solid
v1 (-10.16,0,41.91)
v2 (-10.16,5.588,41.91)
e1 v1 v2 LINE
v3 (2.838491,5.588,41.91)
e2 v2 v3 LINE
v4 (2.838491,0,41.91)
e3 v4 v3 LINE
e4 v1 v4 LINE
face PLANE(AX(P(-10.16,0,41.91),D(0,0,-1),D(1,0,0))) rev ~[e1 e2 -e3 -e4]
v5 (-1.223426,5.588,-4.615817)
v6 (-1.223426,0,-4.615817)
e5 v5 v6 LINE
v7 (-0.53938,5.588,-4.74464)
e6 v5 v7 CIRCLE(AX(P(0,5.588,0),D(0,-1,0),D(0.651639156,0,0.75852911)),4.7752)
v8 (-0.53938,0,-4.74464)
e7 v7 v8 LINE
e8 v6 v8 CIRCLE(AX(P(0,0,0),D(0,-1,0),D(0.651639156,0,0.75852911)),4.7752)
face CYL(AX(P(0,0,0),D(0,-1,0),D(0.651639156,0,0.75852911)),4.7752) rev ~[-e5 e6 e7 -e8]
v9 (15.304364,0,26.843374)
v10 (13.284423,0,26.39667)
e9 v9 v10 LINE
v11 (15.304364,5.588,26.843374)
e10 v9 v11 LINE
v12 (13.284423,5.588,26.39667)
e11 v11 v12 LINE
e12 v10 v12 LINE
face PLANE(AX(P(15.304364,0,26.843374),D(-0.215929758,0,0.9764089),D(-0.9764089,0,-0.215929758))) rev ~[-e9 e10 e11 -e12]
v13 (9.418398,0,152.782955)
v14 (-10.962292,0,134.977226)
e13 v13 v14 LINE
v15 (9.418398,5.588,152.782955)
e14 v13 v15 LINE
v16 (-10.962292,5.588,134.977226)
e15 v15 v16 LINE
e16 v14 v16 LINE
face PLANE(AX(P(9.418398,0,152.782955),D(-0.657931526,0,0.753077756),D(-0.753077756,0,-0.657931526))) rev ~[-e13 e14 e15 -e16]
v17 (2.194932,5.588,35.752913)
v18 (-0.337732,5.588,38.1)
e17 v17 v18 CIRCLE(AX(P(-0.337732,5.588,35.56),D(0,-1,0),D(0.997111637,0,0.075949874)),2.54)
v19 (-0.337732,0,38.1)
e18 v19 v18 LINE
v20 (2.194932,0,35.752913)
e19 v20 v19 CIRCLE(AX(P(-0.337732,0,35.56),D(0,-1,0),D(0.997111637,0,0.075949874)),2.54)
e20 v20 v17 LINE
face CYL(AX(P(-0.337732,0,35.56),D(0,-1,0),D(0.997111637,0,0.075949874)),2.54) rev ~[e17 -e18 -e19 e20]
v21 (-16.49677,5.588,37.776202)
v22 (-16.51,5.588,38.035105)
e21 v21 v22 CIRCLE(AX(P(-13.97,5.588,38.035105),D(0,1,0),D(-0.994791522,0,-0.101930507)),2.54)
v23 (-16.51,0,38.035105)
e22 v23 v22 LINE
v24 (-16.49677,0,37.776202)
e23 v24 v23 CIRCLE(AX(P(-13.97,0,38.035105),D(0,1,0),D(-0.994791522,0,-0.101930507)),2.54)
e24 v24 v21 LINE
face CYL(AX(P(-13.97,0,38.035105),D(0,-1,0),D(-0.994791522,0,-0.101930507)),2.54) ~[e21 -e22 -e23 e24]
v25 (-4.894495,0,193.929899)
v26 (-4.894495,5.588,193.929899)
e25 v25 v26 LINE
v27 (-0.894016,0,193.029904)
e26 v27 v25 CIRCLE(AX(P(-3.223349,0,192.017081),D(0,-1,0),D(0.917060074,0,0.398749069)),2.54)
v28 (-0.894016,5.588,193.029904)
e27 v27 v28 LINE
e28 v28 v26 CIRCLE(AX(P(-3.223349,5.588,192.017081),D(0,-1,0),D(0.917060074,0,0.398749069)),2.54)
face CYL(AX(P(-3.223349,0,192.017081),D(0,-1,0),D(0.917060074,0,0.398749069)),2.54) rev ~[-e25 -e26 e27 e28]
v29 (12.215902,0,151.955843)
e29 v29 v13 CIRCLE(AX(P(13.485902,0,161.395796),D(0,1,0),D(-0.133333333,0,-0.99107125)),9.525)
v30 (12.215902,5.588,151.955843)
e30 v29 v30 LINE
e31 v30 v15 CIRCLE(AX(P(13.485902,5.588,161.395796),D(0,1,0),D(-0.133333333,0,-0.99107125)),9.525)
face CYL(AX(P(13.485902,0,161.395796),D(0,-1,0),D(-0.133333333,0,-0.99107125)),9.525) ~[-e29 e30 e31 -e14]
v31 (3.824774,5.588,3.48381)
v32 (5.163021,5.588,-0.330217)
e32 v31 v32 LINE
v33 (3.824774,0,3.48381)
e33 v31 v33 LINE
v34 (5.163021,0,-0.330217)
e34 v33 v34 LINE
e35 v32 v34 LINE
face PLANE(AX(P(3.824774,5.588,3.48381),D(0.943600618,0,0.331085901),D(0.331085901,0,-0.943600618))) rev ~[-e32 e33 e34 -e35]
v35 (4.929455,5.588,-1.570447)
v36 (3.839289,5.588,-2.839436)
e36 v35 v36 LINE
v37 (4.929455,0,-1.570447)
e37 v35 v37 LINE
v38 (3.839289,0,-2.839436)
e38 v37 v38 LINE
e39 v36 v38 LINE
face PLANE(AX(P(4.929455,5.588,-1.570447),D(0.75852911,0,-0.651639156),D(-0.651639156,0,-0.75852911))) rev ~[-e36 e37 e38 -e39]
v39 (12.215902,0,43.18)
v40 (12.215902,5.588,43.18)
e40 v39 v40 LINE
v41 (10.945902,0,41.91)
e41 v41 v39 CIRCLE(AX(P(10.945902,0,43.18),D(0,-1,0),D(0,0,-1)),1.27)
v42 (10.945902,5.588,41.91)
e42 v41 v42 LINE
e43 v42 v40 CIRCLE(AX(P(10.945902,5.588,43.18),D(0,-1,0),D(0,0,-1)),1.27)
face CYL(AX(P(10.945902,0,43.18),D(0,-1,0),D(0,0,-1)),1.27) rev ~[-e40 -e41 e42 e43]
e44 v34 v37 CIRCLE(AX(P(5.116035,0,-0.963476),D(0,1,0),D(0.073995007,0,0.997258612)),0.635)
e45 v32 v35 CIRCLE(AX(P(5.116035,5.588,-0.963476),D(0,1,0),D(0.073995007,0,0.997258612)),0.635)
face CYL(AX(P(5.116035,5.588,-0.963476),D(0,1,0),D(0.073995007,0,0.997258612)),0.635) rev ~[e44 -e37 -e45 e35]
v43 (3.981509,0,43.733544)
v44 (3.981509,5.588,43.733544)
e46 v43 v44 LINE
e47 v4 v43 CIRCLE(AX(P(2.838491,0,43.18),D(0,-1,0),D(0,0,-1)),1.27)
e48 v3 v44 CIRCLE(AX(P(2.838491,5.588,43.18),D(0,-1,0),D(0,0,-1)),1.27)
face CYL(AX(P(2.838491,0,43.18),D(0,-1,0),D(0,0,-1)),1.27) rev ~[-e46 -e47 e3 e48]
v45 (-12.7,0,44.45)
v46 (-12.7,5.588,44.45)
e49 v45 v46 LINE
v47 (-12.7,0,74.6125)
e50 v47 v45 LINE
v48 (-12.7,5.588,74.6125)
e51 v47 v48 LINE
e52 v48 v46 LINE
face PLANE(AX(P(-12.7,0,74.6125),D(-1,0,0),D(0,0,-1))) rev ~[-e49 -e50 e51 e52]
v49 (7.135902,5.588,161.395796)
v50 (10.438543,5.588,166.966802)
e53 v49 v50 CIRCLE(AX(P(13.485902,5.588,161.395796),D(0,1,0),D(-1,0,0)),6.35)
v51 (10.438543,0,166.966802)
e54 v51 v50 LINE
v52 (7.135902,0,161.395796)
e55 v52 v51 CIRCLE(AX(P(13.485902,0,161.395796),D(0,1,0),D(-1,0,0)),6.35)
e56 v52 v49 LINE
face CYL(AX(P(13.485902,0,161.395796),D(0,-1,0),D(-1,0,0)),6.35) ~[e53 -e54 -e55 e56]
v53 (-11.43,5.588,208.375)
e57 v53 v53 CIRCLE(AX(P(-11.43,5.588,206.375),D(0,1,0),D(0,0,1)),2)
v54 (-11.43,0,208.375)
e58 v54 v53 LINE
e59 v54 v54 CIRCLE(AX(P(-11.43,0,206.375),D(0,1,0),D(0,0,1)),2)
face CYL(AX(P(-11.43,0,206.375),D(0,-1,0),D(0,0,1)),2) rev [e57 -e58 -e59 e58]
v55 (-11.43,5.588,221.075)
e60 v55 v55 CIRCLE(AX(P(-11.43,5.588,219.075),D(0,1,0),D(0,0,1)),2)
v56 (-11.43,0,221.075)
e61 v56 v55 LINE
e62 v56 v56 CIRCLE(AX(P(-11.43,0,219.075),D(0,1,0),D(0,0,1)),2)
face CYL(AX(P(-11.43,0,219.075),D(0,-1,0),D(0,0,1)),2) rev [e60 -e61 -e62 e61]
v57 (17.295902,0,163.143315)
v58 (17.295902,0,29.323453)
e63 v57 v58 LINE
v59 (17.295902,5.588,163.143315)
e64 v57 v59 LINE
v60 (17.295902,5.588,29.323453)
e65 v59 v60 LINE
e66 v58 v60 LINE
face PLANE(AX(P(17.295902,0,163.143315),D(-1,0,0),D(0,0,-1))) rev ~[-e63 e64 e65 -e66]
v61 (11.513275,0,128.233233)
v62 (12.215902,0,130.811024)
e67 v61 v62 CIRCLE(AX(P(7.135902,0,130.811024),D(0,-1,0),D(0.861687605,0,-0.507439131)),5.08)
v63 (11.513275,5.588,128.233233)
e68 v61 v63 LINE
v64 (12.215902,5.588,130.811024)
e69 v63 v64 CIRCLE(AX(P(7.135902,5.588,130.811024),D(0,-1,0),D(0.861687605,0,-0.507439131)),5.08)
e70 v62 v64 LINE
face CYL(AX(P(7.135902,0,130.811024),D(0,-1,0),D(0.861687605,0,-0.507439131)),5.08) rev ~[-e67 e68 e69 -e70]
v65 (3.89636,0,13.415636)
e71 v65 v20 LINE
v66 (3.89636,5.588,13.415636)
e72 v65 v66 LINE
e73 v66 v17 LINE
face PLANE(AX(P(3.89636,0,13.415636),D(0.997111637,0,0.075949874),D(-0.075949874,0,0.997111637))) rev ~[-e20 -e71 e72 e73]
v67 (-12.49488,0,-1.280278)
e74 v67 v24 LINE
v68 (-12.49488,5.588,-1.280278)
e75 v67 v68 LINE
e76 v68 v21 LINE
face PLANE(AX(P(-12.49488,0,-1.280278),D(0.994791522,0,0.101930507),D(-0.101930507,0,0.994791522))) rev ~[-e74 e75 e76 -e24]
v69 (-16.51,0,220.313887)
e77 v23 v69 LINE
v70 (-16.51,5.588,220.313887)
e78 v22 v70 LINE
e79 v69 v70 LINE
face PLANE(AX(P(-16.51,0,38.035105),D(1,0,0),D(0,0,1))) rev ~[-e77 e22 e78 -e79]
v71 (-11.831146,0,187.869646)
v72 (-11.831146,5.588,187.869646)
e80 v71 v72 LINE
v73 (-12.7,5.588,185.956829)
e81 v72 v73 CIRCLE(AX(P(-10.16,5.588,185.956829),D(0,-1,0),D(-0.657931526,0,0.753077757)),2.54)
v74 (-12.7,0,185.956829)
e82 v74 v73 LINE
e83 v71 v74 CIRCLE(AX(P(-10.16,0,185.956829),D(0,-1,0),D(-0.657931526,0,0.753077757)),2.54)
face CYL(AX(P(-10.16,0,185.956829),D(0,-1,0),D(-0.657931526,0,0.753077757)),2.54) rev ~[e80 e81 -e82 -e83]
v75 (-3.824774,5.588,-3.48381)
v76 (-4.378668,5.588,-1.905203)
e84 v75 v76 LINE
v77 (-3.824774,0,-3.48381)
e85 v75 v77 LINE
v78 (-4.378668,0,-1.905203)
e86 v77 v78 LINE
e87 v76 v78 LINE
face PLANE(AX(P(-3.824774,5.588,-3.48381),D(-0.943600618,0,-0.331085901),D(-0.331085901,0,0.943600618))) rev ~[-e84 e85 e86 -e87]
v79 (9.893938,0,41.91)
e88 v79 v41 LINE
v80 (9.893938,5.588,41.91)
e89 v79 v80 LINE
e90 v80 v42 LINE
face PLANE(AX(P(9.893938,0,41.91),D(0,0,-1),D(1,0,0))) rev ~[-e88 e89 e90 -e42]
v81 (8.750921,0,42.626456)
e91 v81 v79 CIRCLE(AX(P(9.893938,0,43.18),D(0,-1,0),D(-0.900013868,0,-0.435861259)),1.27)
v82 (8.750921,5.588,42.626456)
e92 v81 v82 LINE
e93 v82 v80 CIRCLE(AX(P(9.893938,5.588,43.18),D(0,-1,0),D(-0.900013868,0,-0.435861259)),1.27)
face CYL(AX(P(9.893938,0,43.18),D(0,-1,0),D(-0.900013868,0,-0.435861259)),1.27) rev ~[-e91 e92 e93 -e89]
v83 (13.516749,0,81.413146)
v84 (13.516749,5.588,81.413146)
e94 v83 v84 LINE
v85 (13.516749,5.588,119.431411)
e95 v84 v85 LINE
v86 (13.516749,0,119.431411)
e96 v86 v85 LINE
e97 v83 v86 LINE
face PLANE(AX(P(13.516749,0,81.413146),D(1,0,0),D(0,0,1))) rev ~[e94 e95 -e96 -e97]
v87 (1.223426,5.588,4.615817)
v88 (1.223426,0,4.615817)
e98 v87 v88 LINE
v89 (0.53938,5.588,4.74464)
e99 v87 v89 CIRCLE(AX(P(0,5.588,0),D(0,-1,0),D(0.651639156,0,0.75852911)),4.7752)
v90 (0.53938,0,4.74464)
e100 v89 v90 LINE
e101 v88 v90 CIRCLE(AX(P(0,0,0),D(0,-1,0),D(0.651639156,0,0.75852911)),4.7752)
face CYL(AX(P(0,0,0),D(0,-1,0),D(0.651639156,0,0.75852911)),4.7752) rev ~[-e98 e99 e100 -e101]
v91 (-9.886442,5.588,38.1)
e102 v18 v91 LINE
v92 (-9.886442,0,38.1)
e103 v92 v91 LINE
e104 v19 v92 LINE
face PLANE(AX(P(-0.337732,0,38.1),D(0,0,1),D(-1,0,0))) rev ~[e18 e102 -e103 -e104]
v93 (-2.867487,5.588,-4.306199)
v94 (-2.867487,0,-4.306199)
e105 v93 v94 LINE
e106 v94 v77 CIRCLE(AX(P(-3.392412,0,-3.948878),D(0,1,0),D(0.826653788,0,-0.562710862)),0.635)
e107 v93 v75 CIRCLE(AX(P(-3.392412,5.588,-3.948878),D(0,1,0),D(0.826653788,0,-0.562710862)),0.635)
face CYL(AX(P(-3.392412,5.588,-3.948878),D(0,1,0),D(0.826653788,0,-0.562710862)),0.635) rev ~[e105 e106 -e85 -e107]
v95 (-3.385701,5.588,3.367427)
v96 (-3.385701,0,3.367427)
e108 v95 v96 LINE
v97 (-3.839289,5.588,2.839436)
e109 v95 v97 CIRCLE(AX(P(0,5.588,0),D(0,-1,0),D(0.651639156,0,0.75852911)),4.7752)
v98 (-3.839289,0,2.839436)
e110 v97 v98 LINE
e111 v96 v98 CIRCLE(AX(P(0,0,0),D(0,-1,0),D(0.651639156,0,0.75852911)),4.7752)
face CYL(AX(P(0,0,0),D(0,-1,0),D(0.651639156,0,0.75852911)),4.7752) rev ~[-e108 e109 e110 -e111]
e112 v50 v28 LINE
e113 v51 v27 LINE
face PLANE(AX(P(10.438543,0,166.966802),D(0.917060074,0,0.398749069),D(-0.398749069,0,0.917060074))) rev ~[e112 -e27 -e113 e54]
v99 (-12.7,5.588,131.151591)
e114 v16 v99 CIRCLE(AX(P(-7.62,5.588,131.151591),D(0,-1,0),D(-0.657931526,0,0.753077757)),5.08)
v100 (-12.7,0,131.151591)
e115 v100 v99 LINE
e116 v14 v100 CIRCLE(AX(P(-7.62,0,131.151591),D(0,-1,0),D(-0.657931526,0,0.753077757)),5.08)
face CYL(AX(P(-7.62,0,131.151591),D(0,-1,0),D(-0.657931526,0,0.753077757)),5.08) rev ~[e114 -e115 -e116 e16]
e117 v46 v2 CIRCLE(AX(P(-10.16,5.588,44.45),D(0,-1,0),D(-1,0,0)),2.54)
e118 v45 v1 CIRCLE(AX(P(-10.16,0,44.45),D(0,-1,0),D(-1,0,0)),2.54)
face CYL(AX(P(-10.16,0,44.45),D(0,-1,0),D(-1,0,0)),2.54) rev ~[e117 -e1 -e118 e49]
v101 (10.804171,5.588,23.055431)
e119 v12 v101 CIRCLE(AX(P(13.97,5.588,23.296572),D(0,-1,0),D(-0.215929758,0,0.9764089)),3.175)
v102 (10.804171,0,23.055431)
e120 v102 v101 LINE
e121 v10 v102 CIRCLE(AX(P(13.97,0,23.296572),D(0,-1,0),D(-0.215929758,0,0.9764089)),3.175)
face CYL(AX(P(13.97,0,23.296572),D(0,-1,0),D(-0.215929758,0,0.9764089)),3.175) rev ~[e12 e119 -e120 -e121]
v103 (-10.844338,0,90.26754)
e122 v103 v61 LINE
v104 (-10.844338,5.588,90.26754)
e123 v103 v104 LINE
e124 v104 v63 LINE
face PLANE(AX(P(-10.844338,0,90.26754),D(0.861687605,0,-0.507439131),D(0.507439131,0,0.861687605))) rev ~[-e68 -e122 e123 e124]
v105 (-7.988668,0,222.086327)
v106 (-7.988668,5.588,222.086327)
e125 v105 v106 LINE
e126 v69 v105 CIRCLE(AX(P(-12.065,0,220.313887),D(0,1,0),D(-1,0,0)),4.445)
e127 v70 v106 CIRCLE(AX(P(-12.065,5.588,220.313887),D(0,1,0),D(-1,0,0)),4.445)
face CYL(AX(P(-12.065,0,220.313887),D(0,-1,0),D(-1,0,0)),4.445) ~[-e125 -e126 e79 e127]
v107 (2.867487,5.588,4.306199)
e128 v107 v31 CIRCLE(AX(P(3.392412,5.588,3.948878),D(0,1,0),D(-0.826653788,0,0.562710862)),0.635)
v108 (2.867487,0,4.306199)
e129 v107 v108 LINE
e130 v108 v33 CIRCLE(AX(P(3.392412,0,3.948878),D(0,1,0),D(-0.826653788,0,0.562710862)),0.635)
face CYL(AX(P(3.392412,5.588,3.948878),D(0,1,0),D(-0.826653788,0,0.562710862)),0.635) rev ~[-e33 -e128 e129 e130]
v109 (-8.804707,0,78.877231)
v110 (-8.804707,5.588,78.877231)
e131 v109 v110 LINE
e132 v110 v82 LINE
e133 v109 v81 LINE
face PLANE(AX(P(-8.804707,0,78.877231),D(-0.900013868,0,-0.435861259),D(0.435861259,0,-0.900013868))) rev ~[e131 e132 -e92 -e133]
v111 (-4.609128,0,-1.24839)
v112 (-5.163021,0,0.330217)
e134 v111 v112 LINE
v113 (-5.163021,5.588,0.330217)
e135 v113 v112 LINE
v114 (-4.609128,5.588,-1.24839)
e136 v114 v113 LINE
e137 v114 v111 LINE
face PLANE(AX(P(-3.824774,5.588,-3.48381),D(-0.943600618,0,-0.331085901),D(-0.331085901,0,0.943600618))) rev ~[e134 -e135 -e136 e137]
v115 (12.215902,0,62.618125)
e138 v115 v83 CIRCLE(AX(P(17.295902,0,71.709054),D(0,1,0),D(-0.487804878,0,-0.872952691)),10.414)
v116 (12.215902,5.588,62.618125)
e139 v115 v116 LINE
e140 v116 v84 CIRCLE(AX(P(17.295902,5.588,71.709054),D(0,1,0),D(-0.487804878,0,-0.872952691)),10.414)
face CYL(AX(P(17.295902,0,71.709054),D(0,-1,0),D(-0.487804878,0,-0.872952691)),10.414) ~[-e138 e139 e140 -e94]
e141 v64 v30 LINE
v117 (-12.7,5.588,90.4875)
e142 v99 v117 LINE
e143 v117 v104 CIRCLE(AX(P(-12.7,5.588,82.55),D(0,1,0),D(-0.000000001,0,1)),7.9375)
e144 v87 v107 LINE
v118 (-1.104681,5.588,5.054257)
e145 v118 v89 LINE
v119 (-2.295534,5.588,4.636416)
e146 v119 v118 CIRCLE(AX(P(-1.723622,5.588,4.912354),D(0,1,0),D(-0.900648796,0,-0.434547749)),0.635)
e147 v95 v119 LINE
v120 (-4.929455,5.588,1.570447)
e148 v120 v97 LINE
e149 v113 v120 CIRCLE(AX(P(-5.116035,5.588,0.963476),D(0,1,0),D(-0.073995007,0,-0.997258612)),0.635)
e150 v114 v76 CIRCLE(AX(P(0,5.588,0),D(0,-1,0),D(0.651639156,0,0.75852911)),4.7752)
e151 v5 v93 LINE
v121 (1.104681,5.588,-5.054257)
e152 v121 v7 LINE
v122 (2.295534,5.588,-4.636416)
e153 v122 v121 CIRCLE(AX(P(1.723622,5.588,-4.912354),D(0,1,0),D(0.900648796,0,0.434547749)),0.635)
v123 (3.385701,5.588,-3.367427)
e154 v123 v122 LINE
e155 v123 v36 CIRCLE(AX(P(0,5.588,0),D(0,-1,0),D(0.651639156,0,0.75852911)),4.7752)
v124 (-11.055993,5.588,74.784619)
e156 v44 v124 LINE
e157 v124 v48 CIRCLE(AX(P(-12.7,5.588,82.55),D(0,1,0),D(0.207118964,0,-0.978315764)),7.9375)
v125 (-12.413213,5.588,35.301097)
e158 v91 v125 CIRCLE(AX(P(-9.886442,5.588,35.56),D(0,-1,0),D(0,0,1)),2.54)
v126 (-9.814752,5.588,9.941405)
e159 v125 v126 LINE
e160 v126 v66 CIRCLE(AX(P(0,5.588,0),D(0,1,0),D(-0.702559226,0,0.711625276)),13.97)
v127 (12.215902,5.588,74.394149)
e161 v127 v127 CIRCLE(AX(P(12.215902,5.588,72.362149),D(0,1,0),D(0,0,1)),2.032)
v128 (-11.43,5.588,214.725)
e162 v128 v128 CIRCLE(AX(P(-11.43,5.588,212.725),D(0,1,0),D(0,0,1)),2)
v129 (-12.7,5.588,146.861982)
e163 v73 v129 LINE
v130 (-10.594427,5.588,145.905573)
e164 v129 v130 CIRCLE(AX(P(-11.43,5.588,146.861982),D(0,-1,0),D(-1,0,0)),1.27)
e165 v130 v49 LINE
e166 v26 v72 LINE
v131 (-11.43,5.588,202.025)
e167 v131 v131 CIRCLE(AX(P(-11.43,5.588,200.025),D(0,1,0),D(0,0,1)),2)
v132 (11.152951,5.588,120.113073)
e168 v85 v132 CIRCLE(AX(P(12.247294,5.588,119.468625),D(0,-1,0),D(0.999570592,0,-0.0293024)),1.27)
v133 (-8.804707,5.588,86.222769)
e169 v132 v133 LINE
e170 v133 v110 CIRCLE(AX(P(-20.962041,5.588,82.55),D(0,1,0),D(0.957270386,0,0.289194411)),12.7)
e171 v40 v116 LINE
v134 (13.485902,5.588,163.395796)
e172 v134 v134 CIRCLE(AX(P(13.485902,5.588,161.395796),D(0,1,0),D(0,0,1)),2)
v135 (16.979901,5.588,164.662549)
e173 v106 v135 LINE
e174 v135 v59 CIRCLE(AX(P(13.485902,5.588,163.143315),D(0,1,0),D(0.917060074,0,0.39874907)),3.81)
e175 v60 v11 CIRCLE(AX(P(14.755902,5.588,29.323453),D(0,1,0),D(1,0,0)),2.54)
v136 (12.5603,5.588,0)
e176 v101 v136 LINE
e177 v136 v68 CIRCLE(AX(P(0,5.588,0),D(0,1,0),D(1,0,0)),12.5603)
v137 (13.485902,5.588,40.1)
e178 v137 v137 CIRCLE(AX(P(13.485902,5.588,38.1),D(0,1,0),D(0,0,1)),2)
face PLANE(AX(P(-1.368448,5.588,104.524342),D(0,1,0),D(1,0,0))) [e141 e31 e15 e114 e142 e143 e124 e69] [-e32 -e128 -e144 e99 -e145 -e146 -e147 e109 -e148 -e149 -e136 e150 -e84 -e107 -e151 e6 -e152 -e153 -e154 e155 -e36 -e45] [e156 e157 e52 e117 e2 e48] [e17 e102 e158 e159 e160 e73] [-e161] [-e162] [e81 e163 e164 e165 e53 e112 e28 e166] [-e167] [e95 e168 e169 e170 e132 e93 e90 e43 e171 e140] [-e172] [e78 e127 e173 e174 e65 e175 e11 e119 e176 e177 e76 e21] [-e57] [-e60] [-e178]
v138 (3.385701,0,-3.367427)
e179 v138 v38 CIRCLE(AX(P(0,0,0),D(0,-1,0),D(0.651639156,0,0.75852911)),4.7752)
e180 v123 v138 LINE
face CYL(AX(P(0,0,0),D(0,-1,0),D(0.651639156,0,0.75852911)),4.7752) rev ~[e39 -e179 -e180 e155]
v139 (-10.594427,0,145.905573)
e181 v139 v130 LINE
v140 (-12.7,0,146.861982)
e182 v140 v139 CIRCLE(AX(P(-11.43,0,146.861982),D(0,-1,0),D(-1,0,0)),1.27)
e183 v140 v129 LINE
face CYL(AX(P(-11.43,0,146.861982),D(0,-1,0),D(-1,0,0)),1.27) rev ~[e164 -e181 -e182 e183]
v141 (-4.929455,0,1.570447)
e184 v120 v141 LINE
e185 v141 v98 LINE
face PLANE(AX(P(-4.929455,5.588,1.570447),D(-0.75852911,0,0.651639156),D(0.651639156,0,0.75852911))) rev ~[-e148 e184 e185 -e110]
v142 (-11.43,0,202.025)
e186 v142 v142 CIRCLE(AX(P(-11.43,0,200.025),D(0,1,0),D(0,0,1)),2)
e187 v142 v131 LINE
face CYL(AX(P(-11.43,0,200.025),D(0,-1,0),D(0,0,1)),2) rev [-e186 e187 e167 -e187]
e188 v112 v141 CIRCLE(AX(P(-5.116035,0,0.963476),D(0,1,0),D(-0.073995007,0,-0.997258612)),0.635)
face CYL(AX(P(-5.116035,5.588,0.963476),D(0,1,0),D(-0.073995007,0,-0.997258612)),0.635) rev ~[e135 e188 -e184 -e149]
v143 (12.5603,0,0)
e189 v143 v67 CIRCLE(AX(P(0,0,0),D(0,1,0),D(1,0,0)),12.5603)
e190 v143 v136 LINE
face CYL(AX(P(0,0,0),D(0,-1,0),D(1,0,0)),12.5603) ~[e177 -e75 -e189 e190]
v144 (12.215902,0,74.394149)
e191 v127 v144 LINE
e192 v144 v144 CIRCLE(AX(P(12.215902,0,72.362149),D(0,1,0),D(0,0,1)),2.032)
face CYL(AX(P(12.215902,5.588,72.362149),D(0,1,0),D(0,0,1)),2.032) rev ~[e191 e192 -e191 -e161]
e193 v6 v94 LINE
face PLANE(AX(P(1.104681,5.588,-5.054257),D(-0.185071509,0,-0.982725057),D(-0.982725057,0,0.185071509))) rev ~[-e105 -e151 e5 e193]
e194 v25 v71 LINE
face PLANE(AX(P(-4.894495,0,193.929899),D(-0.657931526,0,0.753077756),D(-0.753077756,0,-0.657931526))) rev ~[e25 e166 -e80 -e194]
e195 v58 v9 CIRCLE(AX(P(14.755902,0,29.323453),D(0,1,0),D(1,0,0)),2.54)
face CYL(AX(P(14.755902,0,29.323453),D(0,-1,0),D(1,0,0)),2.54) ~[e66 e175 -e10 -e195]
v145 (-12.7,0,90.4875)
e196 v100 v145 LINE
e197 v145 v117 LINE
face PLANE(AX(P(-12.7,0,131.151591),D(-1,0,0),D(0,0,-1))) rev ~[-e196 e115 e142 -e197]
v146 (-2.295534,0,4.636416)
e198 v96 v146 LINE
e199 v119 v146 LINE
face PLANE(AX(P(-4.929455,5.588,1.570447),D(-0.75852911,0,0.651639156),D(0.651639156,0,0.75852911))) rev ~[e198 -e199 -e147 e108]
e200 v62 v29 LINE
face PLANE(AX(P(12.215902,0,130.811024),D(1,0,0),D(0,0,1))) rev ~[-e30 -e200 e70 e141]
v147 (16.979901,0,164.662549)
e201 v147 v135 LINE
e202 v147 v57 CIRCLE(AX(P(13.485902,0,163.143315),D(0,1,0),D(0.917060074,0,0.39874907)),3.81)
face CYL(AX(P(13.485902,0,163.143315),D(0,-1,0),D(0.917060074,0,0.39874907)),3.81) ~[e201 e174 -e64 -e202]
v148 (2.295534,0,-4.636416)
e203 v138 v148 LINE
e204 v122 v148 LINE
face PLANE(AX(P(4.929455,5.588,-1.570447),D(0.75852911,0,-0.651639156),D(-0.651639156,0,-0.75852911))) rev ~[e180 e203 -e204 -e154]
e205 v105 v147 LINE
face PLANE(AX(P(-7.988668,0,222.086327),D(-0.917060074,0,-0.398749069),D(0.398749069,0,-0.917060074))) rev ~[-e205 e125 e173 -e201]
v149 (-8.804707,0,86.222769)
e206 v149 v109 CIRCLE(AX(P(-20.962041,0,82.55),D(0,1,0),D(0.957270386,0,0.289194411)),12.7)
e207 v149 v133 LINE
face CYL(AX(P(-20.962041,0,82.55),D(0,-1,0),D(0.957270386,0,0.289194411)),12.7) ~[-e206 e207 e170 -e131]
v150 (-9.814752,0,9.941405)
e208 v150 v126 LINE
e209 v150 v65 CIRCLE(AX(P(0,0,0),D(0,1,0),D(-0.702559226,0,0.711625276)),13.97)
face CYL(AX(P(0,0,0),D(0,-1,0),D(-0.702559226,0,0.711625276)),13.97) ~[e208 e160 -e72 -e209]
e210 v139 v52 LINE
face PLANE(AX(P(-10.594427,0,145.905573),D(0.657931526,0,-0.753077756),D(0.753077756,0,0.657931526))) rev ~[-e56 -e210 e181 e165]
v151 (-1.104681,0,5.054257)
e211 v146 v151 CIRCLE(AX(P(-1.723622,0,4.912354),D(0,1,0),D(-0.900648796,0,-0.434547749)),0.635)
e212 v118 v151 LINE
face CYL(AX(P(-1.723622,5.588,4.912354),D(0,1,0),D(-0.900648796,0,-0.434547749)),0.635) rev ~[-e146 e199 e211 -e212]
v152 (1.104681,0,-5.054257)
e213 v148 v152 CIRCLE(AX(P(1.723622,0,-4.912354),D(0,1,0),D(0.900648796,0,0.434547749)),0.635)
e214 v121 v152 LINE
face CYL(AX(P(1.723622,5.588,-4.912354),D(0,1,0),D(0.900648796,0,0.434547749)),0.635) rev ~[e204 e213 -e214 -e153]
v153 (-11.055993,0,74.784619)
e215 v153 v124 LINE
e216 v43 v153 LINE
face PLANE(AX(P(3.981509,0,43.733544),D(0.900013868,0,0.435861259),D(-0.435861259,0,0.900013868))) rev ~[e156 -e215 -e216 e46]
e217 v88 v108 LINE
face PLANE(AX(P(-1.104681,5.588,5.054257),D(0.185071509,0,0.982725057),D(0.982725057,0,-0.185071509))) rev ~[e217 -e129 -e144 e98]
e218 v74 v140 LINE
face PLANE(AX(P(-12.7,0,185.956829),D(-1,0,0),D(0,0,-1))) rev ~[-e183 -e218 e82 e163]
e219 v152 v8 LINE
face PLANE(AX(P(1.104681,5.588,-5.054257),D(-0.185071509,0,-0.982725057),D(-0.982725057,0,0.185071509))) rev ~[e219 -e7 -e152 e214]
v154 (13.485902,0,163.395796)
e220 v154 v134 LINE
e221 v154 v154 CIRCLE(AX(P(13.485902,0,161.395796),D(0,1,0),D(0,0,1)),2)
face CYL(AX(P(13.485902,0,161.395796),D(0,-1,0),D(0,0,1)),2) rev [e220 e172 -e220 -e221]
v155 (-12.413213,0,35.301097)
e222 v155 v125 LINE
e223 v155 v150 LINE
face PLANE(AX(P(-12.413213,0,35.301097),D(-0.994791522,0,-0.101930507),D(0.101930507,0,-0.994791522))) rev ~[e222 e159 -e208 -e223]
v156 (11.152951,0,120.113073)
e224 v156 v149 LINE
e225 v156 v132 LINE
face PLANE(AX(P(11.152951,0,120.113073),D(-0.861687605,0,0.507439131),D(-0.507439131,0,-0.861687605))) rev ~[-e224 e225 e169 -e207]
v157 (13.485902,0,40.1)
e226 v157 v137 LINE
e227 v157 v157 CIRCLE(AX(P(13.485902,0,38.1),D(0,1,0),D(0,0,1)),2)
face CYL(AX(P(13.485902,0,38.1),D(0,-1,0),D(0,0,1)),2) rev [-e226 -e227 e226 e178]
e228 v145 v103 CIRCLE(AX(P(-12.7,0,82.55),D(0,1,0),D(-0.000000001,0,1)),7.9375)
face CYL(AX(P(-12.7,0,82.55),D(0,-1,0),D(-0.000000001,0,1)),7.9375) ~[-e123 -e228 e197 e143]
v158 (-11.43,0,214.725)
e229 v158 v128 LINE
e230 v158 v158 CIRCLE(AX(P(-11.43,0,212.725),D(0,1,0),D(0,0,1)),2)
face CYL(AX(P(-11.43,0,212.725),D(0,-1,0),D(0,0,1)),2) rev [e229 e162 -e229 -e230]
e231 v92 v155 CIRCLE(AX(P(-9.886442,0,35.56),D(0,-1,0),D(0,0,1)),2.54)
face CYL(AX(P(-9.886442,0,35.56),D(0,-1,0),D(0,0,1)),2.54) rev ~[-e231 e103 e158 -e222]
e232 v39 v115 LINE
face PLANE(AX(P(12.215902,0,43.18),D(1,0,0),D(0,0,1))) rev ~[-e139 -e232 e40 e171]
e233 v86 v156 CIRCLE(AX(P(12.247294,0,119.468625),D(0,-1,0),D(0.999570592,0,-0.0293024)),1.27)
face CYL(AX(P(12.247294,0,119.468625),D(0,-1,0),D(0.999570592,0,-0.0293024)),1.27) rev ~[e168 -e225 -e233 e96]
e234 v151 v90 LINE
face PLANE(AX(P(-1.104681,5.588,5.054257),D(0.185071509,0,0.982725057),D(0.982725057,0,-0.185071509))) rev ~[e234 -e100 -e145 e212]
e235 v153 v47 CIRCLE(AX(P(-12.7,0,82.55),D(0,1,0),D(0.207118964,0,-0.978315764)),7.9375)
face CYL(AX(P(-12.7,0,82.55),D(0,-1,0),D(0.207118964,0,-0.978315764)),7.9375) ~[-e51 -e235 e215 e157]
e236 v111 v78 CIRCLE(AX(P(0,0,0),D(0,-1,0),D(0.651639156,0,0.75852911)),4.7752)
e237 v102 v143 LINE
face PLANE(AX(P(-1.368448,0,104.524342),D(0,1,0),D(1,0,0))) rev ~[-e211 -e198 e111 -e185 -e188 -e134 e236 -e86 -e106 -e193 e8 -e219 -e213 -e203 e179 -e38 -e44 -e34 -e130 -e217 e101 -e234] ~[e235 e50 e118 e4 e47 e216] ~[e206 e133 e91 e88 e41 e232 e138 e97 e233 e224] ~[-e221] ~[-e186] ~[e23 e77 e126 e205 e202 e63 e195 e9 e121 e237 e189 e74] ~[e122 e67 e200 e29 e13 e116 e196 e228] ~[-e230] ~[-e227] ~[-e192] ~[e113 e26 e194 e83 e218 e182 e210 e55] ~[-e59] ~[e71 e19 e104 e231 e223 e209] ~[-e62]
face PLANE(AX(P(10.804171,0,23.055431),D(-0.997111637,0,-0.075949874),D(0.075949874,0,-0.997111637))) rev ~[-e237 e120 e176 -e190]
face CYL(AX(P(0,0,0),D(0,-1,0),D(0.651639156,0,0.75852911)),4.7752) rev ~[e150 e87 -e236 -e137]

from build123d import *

# Parameters (mm, degrees)
SKETCH2_R           = 2
SKETCH2_R_2         = 1.999999991
BOSS_EXTRUDE1_DEPTH = 5.588
SKETCH7_R           = 2.032
CUT_EXTRUDE1_DEPTH  = 5.588
CUT_EXTRUDE2_DEPTH  = 226.492641696


with BuildPart() as part:
    # Sketch2 → Boss-Extrude1 (new body)
    with BuildSketch(Plane(origin=(0, 0, 0), x_dir=(1, 0, 0), z_dir=(0, 1, 0))):
        with BuildLine():
            ThreePointArc((17.295902343, -29.323452593), (16.73639375, -27.733089808), (15.304363929, -26.843373987))
            Line((15.304363929, -26.843373987), (13.284423018, -26.396670406))
            ThreePointArc((13.284423018, -26.396670406), (11.420627025, -25.189010374), (10.804170553, -23.055431298))
            Line((10.804170553, -23.055431298), (12.5603, 0))
            ThreePointArc((12.5603, 0), (0.640974044, 12.543934326), (-12.49487995, 1.28027775))
            Line((-12.49487995, 1.28027775), (-16.496770465, -37.776201638))
            ThreePointArc((-16.496770465, -37.776201638), (-16.50669046, -37.90548449), (-16.51, -38.035105126))
            Line((-16.51, -38.035105126), (-16.51, -220.313887427))
            ThreePointArc((-16.51, -220.313887427), (-12.970187584, -224.665744552), (-7.988667969, -222.086327038))
            Line((-7.988667969, -222.086327038), (16.979901226, -164.662549258))
            ThreePointArc((16.979901226, -164.662549258), (17.216065593, -163.919190378), (17.295902343, -163.143315306))
            Line((17.295902343, -163.143315306), (17.295902343, -29.323452593))
        make_face()
        with Locations(Location((-11.43, -219.075, 0), (0, 0, 270))):
            Circle(SKETCH2_R, mode=Mode.SUBTRACT)
        with Locations(Location((-11.43, -212.725, 0), (0, 0, 270))):
            Circle(SKETCH2_R, mode=Mode.SUBTRACT)
        with Locations(Location((-11.43, -206.375, 0), (0, 0, 270))):
            Circle(SKETCH2_R, mode=Mode.SUBTRACT)
        with Locations(Location((-11.43, -200.025, 0), (0, 0, 270))):
            Circle(SKETCH2_R, mode=Mode.SUBTRACT)
        with BuildLine():
            ThreePointArc((7.135902343, -161.395796446), (8.023611961, -164.633987883), (10.438542905, -166.966801782))
            Line((10.438542905, -166.966801782), (-0.894016375, -193.029903785))
            ThreePointArc((-0.894016375, -193.029903785), (-2.665854515, -194.495144898), (-4.89449504, -193.929898651))
            Line((-4.89449504, -193.929898651), (-11.831146076, -187.869646091))
            ThreePointArc((-11.831146076, -187.869646091), (-12.472607947, -187.007278248), (-12.7, -185.95682859))
            Line((-12.7, -185.95682859), (-12.7, -146.861981888))
            ThreePointArc((-12.7, -146.861981888), (-11.955224829, -145.705677915), (-10.594426962, -145.905573138))
            Line((-10.594426962, -145.905573138), (7.135902343, -161.395796446))
        make_face(mode=Mode.SUBTRACT)
        with BuildLine():
            ThreePointArc((12.215902343, -151.955842791), (10.785297541, -152.261664921), (9.418398214, -152.782955151))
            Line((9.418398214, -152.782955151), (-10.962292152, -134.977225798))
            ThreePointArc((-10.962292152, -134.977225798), (-12.245215894, -133.252490112), (-12.7, -131.151590796))
            Line((-12.7, -131.151590796), (-12.7, -90.4875))
            ThreePointArc((-12.7, -90.4875), (-11.765673597, -90.432318214), (-10.844338135, -90.267540106))
            Line((-10.844338135, -90.267540106), (11.513275375, -128.23323342))
            ThreePointArc((11.513275375, -128.23323342), (12.037098881, -129.475107855), (12.215902343, -130.811024207))
            Line((12.215902343, -130.811024207), (12.215902343, -151.955842791))
        make_face(mode=Mode.SUBTRACT)
        with Locations(Location((13.485902343, -161.395796446, 0), (0, 0, 270))):
            Circle(SKETCH2_R, mode=Mode.SUBTRACT)
        with BuildLine():
            Line((-10.16, -41.91), (2.838491406, -41.91))
            ThreePointArc((2.838491406, -41.91), (3.914572403, -42.505500417), (3.981509018, -43.733543799))
            Line((3.981509018, -43.733543799), (-11.055993219, -74.784618621))
            ThreePointArc((-11.055993219, -74.784618621), (-11.873503915, -74.655646925), (-12.7, -74.6125))
            Line((-12.7, -74.6125), (-12.7, -44.45))
            ThreePointArc((-12.7, -44.45), (-11.956051224, -42.653948776), (-10.16, -41.91))
        make_face(mode=Mode.SUBTRACT)
        with BuildLine():
            ThreePointArc((-9.886442157, -38.1), (-11.771808813, -37.262055396), (-12.413212622, -35.301096512))
            Line((-12.413212622, -35.301096512), (-9.81475239, -9.941405108))
            ThreePointArc((-9.81475239, -9.941405108), (-3.431386466, -13.542026692), (3.896359547, -13.415635739))
            Line((3.896359547, -13.415635739), (2.194931831, -35.752912681))
            ThreePointArc((2.194931831, -35.752912681), (1.388767881, -37.42300808), (-0.337731726, -38.1))
            Line((-0.337731726, -38.1), (-9.886442157, -38.1))
        make_face(mode=Mode.SUBTRACT)
        with BuildLine():
            ThreePointArc((3.111707299, -3.622128204), (-4.505881672, 1.581001391), (4.69270869, 0.883753468))
            Line((4.69270869, 0.883753468), (3.111707299, -3.622128204))
        make_face(mode=Mode.SUBTRACT)
        with BuildLine():
            ThreePointArc((-8.804706991, -86.222769023), (-8.262040897, -82.55), (-8.804706991, -78.877230977))
            Line((-8.804706991, -78.877230977), (8.75092063, -42.626456201))
            ThreePointArc((8.75092063, -42.626456201), (9.219438659, -42.103919003), (9.893938242, -41.91))
            Line((9.893938242, -41.91), (10.945902343, -41.91))
            ThreePointArc((10.945902343, -41.91), (11.843927955, -42.281974388), (12.215902343, -43.18))
            Line((12.215902343, -43.18), (12.215902343, -62.618124667))
            ThreePointArc((12.215902343, -62.618124667), (6.906756389, -72.428110561), (13.516748759, -81.413145613))
            Line((13.516748759, -81.413145613), (13.516748759, -119.431411199))
            ThreePointArc((13.516748759, -119.431411199), (12.599191369, -120.688899116), (11.152950849, -120.113072943))
            Line((11.152950849, -120.113072943), (-8.804706991, -86.222769023))
        make_face(mode=Mode.SUBTRACT)
        with Locations(Location((13.485902343, -38.1, 0), (0, 0, 270))):
            Circle(SKETCH2_R_2, mode=Mode.SUBTRACT)
    extrude(amount=BOSS_EXTRUDE1_DEPTH)

    # Sketch7 → Cut-Extrude1 (cut)
    with BuildSketch(Plane(origin=(0, 5.588, 0), x_dir=(1, 0, 0), z_dir=(0, 1, 0))):
        with Locations(Location((12.215902343, -72.362149281, 0), (0, 0, 270))):
            Circle(SKETCH7_R)
    extrude(amount=-CUT_EXTRUDE1_DEPTH, mode=Mode.SUBTRACT)

    # Sketch8 → Cut-Extrude2 (cut, through all)
    with BuildSketch(Plane(origin=(0, 5.588, 0), x_dir=(1, 0, 0), z_dir=(0, 1, 0))):
        with BuildLine():
            Line((1.104680914, 5.054256967), (-2.867487033, 4.306199197))
            ThreePointArc((-2.867487033, 4.306199197), (-3.806203053, 4.430543784), (-3.824774473, 3.483810218))
            Line((-3.824774473, 3.483810218), (-5.163021415, -0.330217017))
            ThreePointArc((-5.163021415, -0.330217017), (-5.740064996, -1.080996644), (-4.929455388, -1.570446748))
            Line((-4.929455388, -1.570446748), (-2.295534382, -4.636416214))
            ThreePointArc((-2.295534382, -4.636416214), (-1.933861943, -5.511540428), (-1.104680914, -5.054256967))
            Line((-1.104680914, -5.054256967), (2.867487033, -4.306199197))
            ThreePointArc((2.867487033, -4.306199197), (3.806203053, -4.430543784), (3.824774473, -3.483810218))
            Line((3.824774473, -3.483810218), (5.163021415, 0.330217017))
            ThreePointArc((5.163021415, 0.330217017), (5.740064996, 1.080996644), (4.929455388, 1.570446748))
            Line((4.929455388, 1.570446748), (2.295534382, 4.636416214))
            ThreePointArc((2.295534382, 4.636416214), (1.933861943, 5.511540428), (1.104680914, 5.054256967))
        make_face()
    extrude(amount=-CUT_EXTRUDE2_DEPTH, mode=Mode.SUBTRACT)


solid = part.part
